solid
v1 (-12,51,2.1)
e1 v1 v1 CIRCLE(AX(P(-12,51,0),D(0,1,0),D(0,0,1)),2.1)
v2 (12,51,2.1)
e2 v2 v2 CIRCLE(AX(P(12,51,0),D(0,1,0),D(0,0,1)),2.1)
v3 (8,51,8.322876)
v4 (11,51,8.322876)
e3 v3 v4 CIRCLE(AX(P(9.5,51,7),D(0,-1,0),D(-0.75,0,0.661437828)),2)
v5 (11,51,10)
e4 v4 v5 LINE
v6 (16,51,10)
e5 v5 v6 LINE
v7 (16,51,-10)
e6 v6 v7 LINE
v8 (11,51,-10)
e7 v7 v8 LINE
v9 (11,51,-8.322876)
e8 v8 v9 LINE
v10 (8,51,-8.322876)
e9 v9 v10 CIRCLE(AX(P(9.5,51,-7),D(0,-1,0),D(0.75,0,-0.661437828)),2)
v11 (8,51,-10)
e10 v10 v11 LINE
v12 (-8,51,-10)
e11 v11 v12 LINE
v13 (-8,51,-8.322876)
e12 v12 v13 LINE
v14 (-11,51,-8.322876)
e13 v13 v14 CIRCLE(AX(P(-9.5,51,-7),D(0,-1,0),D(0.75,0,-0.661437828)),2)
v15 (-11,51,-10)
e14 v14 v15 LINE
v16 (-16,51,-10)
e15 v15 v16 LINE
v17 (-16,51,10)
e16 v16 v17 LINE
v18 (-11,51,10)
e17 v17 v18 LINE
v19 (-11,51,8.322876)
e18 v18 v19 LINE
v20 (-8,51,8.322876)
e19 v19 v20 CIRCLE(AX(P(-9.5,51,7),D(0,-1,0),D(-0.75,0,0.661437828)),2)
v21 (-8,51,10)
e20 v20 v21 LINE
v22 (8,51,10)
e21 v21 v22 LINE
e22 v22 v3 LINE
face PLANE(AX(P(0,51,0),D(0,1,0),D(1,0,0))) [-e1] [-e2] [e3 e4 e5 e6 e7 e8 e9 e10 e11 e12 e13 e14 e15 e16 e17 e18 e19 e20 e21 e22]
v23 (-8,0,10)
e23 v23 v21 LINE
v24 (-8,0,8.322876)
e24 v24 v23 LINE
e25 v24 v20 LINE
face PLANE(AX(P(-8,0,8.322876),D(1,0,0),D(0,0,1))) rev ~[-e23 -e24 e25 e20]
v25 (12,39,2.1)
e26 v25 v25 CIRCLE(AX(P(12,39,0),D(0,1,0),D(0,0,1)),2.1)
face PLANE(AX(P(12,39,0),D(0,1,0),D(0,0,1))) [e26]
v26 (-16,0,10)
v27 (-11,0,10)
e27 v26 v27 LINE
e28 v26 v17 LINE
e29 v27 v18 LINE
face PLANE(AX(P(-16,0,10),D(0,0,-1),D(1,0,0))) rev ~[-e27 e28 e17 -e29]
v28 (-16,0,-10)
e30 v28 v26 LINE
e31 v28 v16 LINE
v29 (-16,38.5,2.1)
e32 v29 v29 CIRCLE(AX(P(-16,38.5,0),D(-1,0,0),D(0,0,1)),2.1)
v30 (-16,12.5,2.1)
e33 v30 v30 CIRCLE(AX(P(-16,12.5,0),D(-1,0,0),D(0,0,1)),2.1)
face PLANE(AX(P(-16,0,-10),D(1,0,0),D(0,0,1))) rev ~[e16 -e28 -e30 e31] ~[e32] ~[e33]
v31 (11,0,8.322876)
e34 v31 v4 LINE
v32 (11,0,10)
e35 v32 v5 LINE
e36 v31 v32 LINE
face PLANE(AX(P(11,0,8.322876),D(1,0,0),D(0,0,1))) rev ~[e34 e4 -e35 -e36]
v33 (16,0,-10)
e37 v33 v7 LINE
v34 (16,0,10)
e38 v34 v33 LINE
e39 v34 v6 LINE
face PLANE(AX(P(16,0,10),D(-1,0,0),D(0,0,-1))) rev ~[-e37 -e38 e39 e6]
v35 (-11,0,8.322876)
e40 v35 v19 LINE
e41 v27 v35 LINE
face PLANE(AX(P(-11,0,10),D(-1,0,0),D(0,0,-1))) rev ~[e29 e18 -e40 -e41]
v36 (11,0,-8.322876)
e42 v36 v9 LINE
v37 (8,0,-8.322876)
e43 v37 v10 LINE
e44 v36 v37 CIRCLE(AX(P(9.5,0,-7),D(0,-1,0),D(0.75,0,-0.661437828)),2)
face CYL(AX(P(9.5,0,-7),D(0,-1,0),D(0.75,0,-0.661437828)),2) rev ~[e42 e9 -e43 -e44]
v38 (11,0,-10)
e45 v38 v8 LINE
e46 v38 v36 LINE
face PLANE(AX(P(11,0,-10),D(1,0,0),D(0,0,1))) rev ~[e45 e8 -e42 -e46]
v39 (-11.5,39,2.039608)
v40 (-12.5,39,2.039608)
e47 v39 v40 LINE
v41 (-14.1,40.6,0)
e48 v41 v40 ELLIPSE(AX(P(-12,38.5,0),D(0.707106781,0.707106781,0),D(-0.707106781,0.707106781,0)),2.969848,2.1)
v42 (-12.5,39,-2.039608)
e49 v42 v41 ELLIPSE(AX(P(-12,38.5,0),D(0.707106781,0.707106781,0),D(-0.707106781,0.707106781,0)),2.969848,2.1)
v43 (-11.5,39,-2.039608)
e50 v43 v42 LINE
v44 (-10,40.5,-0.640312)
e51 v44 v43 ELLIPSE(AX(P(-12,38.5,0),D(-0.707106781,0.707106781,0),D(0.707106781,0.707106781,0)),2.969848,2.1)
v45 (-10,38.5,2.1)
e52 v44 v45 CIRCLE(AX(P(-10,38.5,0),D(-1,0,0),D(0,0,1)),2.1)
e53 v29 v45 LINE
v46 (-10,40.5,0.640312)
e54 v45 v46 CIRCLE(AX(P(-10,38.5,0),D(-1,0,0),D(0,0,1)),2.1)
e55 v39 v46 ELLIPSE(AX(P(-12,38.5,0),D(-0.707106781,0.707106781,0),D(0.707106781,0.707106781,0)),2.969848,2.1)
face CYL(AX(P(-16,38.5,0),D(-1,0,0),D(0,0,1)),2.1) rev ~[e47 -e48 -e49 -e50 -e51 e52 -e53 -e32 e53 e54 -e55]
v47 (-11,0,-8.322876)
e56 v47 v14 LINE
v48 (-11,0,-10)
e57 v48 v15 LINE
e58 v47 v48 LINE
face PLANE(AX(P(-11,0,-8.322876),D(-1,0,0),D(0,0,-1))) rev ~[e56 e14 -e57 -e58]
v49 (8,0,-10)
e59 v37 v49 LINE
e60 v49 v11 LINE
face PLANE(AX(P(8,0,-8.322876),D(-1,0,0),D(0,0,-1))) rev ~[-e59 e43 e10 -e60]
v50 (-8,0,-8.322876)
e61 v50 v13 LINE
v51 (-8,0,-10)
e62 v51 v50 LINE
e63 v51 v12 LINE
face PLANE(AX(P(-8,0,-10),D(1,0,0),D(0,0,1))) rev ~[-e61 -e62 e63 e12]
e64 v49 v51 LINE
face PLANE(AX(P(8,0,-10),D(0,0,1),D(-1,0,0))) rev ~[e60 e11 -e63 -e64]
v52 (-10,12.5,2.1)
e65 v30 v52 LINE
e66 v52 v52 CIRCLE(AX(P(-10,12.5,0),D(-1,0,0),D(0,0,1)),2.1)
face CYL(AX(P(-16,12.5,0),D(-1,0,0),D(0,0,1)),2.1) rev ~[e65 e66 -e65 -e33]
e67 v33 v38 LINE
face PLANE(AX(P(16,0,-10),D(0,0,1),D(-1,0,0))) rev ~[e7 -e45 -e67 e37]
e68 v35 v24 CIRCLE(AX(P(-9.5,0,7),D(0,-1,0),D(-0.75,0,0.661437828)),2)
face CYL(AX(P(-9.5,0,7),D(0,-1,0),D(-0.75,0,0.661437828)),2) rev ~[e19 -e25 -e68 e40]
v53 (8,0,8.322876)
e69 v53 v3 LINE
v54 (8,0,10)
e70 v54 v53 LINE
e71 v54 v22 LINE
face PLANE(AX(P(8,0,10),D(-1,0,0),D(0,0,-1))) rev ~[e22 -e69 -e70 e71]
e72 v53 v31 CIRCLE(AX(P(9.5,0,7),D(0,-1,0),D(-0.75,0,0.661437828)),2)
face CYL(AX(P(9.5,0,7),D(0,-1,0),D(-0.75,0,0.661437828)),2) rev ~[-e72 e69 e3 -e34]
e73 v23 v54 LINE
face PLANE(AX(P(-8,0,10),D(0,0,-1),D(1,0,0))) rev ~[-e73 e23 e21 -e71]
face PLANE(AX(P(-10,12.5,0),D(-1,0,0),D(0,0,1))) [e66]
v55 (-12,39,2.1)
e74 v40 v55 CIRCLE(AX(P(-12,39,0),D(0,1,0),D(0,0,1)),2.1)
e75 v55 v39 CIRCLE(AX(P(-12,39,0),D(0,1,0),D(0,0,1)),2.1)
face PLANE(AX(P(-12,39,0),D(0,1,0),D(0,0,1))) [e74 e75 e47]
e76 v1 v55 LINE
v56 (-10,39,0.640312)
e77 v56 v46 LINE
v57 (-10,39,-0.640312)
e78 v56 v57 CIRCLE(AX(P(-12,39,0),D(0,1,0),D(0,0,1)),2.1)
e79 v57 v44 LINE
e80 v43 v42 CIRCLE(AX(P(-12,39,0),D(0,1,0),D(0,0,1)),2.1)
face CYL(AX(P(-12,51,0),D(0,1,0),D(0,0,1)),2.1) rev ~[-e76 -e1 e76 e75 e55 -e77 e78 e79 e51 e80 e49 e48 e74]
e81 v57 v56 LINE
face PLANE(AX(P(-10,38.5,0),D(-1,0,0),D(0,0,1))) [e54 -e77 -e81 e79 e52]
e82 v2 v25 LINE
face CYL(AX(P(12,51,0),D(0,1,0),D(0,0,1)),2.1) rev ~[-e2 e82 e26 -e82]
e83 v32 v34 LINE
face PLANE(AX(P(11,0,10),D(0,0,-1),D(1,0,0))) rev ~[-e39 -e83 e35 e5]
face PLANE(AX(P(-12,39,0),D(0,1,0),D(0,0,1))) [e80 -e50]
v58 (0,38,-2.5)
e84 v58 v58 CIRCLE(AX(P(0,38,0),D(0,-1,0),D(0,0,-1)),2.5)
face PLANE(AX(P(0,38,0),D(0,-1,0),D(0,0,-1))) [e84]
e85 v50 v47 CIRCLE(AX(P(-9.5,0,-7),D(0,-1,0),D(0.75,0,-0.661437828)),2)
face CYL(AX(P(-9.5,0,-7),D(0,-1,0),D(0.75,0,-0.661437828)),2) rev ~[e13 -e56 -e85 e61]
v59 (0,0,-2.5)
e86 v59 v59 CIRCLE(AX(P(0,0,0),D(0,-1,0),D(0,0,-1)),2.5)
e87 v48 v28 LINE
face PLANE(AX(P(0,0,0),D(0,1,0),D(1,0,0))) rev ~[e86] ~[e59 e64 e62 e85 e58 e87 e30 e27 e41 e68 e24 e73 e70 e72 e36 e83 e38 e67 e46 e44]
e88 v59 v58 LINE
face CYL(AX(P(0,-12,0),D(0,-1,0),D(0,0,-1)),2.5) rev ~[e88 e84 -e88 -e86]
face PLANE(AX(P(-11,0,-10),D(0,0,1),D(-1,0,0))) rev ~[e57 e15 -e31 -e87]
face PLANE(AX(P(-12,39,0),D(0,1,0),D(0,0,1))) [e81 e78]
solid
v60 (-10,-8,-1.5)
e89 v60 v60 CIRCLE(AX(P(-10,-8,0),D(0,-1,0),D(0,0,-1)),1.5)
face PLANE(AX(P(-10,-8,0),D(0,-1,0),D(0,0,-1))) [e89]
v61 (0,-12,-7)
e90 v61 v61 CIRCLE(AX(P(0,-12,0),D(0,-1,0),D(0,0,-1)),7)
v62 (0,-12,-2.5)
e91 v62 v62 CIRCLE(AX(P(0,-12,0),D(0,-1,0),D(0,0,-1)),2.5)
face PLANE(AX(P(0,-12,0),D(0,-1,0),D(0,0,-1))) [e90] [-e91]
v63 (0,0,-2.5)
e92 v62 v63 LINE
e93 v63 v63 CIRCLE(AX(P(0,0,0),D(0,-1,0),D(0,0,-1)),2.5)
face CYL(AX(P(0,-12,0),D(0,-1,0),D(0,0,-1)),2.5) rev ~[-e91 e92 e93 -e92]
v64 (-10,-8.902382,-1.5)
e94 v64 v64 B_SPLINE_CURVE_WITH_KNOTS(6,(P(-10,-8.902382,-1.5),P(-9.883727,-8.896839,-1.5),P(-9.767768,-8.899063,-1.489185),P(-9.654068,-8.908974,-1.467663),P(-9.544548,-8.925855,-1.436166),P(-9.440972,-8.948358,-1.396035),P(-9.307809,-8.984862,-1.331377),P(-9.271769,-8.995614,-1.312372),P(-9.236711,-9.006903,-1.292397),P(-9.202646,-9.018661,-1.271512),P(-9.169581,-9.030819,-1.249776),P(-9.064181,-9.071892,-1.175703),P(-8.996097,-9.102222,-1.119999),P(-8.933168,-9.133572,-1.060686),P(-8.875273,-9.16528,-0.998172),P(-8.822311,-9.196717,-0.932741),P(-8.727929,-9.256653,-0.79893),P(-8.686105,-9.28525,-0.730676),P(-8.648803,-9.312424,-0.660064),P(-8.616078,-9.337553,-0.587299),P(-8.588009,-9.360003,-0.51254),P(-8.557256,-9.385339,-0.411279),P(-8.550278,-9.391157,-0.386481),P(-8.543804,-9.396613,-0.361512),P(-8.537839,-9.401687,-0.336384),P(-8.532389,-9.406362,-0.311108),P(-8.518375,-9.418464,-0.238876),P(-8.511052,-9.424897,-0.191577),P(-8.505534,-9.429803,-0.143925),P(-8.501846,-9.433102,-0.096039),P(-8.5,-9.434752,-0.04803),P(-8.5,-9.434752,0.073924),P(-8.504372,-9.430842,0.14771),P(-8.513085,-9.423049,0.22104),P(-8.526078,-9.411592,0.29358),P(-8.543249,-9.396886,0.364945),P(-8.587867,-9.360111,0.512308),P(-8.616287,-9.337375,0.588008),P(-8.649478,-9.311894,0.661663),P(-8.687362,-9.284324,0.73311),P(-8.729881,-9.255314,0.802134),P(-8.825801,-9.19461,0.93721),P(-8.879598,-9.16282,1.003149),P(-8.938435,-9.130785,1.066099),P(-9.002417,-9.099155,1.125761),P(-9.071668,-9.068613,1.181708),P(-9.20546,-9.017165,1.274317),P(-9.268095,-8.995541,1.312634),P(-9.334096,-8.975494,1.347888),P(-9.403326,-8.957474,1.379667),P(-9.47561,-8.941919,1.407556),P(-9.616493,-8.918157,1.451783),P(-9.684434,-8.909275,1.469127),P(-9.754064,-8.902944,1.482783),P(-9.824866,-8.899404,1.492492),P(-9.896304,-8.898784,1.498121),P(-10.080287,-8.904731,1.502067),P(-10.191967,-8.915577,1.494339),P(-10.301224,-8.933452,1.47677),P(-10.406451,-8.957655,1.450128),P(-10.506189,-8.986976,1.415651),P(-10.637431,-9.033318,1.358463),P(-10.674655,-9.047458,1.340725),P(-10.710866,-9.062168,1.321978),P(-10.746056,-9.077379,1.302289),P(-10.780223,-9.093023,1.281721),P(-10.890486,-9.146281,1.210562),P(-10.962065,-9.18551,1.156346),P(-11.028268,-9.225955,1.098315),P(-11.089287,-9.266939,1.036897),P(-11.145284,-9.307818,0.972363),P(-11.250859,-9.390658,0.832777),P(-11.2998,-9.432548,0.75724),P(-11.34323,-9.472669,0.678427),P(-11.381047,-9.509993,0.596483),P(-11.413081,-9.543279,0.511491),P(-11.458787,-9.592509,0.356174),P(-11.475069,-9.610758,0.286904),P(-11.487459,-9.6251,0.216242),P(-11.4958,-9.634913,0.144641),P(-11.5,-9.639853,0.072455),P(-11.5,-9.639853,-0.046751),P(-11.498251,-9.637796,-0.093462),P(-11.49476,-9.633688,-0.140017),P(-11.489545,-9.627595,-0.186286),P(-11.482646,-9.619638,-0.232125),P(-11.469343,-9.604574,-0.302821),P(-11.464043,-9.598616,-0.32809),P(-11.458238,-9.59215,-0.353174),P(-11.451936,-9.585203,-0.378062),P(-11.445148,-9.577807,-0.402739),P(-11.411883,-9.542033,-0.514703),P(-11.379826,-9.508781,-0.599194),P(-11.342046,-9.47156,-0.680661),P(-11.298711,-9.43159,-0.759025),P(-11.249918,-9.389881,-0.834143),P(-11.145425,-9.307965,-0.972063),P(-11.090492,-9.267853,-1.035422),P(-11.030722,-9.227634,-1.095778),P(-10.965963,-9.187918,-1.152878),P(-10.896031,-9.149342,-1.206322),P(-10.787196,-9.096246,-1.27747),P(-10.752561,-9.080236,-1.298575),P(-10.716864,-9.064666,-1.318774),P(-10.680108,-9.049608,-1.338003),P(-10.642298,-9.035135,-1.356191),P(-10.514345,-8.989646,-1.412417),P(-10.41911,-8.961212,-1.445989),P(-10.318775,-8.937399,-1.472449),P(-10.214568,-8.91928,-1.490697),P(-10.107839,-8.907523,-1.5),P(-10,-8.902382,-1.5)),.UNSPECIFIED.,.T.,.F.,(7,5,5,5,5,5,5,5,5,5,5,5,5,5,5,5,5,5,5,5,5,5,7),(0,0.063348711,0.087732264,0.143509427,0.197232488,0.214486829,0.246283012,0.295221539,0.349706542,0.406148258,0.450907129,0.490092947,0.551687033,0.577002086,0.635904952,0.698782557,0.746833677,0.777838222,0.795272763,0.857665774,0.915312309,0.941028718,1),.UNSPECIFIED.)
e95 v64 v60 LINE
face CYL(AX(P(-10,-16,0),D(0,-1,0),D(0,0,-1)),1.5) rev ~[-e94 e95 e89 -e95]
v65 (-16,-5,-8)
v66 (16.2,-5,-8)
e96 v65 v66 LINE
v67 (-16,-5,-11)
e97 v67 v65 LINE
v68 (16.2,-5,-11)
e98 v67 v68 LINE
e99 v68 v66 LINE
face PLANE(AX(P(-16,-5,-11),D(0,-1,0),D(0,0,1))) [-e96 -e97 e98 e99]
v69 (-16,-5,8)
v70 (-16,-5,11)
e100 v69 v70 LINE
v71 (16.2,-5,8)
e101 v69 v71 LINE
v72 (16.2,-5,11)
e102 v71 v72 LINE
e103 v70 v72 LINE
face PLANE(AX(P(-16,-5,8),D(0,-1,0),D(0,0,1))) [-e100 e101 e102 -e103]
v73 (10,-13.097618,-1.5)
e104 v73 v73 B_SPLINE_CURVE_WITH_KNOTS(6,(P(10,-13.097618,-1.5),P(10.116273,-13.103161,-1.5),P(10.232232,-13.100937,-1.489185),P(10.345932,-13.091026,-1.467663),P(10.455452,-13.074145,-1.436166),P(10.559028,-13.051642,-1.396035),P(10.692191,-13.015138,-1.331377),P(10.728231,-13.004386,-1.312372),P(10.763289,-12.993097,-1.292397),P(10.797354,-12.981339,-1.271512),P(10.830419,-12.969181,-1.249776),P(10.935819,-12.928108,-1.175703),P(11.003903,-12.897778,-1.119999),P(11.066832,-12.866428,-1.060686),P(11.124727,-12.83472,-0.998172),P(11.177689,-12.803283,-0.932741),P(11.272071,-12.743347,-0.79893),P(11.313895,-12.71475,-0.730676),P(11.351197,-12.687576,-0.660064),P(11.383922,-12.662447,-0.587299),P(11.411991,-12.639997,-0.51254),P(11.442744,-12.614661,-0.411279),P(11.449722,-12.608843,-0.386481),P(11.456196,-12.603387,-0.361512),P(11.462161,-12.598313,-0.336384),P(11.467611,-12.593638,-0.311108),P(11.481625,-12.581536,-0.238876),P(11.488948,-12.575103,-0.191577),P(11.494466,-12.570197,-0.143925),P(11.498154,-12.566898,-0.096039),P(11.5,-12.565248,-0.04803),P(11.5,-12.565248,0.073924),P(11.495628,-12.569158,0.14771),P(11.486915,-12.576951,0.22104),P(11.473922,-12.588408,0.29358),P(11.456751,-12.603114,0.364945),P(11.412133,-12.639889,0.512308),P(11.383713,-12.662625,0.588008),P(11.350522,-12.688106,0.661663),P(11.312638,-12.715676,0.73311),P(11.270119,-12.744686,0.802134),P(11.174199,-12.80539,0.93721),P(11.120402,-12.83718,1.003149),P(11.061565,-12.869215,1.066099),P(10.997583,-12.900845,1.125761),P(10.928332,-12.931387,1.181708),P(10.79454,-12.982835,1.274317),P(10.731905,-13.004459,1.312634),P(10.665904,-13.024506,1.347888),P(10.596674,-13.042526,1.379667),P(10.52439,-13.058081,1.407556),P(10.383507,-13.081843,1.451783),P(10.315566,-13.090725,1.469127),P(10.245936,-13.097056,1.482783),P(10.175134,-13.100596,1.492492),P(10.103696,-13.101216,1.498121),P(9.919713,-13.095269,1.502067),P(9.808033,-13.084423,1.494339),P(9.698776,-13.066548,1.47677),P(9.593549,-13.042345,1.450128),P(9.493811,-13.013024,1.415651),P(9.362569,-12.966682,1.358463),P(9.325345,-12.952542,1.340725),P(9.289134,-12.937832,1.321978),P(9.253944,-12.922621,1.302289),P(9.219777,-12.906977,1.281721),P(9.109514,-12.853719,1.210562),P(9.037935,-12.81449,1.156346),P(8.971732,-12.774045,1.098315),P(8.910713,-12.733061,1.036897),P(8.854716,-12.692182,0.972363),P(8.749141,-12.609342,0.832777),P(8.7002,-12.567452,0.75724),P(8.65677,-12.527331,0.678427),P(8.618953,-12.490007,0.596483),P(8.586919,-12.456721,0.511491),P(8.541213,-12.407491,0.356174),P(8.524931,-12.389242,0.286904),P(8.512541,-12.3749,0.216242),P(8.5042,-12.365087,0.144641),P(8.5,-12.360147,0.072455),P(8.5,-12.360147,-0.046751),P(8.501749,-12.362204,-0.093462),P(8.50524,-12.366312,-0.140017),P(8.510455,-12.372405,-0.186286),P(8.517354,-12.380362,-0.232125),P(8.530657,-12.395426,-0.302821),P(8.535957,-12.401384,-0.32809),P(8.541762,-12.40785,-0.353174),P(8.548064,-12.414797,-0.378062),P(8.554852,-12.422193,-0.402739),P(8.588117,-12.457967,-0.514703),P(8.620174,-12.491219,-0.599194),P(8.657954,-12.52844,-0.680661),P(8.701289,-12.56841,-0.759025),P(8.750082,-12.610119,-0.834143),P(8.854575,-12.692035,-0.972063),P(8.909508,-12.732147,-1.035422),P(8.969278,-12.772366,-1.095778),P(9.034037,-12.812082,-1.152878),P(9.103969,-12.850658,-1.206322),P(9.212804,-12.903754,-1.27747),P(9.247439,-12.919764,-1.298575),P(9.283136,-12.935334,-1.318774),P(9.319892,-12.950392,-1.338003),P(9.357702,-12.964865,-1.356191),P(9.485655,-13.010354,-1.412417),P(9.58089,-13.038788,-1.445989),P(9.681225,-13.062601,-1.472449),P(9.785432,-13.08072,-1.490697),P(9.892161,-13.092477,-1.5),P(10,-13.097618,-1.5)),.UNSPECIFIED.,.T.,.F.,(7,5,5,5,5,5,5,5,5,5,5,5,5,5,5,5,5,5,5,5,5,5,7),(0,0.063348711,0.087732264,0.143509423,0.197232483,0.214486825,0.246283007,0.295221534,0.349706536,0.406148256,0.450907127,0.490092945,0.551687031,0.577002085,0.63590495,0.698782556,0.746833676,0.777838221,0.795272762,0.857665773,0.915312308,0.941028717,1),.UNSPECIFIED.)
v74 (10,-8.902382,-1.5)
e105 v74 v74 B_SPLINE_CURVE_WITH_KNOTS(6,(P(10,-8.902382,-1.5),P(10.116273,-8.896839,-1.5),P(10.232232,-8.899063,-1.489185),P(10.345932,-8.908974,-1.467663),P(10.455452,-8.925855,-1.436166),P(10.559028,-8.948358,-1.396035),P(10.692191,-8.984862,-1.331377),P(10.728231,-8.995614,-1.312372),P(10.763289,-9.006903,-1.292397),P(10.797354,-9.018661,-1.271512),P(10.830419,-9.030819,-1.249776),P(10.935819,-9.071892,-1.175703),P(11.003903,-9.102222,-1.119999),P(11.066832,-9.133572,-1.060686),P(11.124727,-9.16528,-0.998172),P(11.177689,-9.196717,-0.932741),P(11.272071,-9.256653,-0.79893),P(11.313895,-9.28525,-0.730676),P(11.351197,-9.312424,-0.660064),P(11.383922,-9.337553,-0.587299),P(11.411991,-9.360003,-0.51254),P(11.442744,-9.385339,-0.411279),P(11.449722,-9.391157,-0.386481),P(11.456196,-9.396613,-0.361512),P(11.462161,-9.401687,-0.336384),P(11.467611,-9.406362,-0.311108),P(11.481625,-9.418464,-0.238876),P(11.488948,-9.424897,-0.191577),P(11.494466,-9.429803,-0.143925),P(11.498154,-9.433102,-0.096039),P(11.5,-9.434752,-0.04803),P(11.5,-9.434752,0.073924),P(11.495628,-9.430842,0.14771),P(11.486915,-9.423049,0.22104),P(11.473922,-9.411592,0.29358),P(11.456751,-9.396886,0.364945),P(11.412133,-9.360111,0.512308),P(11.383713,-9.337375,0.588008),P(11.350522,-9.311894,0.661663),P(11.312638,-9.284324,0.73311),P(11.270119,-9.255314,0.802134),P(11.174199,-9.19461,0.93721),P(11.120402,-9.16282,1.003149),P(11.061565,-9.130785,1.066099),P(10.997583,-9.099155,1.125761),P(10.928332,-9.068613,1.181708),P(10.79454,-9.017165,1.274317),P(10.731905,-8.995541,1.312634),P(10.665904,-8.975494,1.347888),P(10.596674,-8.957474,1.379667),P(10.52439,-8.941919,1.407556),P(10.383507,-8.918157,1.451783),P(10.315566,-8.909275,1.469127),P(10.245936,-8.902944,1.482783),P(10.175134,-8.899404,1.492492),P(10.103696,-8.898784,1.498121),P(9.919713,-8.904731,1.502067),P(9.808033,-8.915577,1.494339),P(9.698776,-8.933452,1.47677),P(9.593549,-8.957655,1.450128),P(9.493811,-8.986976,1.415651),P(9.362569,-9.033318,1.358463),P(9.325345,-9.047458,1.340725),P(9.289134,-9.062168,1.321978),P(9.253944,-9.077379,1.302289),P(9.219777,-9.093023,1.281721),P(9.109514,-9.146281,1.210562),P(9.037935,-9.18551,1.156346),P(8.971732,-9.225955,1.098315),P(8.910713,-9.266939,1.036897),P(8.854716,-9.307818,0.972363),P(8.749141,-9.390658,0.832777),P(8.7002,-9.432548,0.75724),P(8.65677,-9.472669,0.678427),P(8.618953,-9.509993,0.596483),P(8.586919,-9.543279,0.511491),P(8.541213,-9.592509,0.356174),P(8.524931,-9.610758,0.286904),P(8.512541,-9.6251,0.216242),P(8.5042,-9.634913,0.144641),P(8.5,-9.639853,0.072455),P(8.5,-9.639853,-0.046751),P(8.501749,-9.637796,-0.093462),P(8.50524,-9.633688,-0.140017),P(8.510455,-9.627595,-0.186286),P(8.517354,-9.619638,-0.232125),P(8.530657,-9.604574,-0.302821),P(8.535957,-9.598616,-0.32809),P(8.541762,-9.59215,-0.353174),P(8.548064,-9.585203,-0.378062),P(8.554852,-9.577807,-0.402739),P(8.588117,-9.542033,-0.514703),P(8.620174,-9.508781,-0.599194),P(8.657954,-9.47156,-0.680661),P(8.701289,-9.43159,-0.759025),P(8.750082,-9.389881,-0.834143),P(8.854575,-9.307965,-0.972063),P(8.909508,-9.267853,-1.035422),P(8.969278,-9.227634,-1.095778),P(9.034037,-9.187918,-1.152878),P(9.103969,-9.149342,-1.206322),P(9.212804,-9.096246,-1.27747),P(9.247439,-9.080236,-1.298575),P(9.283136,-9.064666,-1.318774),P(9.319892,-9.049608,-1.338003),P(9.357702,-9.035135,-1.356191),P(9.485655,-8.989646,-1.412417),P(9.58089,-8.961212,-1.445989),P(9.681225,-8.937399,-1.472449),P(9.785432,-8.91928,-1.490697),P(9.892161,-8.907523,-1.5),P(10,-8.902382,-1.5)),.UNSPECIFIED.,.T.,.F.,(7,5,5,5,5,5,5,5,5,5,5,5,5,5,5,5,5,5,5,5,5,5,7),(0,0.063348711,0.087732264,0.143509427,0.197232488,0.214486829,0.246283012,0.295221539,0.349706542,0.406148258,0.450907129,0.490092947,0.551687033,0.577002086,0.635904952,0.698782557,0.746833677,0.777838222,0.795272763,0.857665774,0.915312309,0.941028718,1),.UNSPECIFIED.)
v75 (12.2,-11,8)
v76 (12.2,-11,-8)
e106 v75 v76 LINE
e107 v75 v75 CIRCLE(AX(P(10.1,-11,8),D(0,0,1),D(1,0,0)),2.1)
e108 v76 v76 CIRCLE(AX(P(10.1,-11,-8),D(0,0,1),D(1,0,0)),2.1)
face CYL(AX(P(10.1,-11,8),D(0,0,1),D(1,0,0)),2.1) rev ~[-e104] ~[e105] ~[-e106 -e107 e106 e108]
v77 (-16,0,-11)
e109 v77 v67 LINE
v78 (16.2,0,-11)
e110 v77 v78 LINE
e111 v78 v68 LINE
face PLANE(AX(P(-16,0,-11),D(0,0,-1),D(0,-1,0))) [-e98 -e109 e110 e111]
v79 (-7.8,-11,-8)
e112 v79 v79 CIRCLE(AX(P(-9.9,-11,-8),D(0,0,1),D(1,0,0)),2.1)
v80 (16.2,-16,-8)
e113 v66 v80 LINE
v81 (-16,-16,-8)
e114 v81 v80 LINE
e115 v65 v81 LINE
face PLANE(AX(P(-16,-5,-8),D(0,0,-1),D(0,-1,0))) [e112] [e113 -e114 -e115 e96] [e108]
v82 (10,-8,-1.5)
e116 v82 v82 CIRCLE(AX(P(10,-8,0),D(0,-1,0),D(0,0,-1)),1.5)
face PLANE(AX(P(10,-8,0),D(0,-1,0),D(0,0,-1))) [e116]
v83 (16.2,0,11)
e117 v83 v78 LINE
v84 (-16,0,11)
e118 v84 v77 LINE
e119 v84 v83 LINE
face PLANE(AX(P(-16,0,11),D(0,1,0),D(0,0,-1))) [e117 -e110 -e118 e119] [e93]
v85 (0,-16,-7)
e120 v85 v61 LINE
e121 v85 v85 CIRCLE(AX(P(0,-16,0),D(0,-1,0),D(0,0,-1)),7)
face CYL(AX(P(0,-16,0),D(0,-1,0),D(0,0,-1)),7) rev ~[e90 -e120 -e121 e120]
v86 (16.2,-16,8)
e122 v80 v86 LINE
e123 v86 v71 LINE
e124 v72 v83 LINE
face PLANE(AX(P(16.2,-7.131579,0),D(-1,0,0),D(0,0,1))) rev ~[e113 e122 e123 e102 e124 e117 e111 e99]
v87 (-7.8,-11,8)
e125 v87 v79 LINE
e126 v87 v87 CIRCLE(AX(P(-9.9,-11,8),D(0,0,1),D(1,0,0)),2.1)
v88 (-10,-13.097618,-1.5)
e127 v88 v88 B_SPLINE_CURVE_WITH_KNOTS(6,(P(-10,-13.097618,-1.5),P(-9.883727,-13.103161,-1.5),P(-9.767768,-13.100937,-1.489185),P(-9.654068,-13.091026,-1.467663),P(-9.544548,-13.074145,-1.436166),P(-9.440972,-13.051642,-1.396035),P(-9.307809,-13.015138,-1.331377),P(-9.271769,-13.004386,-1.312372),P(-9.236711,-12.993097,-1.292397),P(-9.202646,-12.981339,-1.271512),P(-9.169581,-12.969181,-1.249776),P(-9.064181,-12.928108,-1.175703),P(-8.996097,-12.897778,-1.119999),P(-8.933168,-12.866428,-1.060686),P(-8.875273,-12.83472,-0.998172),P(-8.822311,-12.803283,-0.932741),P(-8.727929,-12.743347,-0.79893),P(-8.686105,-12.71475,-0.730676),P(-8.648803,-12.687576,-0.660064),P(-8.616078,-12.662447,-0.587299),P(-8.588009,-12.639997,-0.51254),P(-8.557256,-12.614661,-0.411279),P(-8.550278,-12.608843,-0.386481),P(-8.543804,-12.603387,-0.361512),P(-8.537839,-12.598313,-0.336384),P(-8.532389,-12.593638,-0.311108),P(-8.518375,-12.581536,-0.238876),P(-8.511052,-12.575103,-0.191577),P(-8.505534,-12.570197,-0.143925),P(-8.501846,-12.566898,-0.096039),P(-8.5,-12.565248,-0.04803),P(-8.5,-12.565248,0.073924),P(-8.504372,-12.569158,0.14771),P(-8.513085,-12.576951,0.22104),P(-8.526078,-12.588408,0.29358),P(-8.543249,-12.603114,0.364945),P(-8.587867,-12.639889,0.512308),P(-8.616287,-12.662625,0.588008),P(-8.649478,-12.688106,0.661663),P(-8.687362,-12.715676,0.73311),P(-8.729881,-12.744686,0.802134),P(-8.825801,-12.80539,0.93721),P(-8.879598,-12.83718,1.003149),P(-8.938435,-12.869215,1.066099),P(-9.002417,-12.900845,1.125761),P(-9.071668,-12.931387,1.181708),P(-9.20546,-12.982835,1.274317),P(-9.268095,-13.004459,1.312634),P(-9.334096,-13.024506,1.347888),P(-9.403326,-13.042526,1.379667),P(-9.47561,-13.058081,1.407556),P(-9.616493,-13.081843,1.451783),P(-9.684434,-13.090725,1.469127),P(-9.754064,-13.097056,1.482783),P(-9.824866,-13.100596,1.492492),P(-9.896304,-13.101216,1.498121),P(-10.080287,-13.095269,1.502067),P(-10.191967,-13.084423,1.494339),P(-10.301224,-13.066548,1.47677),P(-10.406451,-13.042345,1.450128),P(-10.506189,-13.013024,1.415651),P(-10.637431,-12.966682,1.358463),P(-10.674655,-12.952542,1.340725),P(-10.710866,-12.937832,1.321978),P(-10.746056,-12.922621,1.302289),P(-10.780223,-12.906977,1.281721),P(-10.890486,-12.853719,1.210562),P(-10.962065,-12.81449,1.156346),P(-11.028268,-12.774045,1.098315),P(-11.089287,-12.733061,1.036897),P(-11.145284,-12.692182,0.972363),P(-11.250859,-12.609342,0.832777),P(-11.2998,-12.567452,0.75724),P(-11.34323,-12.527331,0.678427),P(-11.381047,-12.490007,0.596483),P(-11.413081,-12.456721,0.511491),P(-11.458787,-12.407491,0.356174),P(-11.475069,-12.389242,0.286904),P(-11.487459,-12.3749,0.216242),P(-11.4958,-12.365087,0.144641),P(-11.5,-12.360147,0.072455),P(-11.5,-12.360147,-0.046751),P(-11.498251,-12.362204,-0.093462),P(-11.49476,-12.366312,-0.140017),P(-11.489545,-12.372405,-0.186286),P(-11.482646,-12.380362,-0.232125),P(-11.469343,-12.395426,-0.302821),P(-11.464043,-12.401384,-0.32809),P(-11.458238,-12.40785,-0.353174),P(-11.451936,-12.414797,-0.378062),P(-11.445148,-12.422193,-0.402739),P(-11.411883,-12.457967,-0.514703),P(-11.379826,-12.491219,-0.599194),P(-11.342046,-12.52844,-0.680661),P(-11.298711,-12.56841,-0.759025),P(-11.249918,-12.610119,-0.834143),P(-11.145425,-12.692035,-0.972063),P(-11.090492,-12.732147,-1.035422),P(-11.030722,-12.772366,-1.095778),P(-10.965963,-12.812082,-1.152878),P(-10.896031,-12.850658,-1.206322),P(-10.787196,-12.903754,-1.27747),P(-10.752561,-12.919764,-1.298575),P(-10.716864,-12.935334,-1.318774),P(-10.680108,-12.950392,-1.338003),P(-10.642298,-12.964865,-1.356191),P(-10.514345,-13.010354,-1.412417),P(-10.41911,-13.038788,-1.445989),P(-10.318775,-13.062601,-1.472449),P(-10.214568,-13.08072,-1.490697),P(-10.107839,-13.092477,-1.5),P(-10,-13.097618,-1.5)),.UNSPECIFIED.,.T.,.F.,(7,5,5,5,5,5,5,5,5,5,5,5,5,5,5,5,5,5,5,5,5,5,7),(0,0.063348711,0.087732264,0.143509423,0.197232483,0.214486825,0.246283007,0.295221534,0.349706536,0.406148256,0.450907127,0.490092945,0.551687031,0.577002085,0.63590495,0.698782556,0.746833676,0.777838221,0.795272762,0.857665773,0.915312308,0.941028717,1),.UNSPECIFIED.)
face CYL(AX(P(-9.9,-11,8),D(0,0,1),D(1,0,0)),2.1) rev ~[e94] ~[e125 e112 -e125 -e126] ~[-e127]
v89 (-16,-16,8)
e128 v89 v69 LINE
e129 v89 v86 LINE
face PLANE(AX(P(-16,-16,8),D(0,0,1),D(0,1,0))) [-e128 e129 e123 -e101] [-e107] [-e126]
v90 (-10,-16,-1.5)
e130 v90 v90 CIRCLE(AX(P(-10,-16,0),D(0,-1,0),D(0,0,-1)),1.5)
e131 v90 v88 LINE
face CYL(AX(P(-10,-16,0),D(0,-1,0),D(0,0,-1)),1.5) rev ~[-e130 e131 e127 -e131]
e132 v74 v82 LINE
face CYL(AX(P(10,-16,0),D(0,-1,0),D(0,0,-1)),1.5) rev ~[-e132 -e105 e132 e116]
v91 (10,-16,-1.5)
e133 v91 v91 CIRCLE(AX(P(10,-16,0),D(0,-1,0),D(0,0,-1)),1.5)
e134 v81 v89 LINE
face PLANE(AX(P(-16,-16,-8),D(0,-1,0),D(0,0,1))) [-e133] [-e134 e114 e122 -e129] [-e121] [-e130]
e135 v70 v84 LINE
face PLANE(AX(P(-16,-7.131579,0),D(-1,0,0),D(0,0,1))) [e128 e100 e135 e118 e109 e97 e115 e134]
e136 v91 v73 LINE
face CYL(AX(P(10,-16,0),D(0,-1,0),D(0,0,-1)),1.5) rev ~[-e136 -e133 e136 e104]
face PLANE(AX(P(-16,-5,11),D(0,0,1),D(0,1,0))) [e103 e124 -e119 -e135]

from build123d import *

# Parameters (mm, degrees)
EXTRUDE_1_DEPTH     = 51
EXTRUDE_2_DEPTH     = 32.2
SKETCH_5_R          = 7
CUT_EXTRUDE_3_DEPTH = 4
SKETCH_7_R          = 1.5
CUT_EXTRUDE_4_DEPTH = 8
SKETCH_8_R          = 2.5
CUT_EXTRUDE_5_DEPTH = 50
SKETCH_9_R          = 2.1
CUT_EXTRUDE_6_DEPTH = 57.784152719
SKETCH_10_R         = 2.1
CUT_EXTRUDE_7_DEPTH = 12
SKETCH_11_R         = 2.1
CUT_EXTRUDE_8_DEPTH = 6


with BuildPart() as part:
    # 草图1 → 拉伸1 (new body)
    with BuildSketch(Plane(origin=(0, 0, 0), x_dir=(1, 0, 0), z_dir=(0, 1, 0))):
        with BuildLine():
            Line((-16, -10), (-11, -10))
            Line((-11, -10), (-11, -8.322875656))
            ThreePointArc((-11, -8.322875656), (-9.5, -5), (-8, -8.322875656))
            Line((-8, -8.322875656), (-8, -10))
            Line((-8, -10), (8, -10))
            Line((8, -10), (8, -8.322875656))
            ThreePointArc((8, -8.322875656), (9.5, -5), (11, -8.322875656))
            Line((11, -8.322875656), (11, -10))
            Line((11, -10), (16, -10))
            Line((16, -10), (16, 10))
            Line((16, 10), (11, 10))
            Line((11, 10), (11, 8.322875656))
            ThreePointArc((11, 8.322875656), (9.5, 5), (8, 8.322875656))
            Line((8, 8.322875656), (8, 10))
            Line((8, 10), (-8, 10))
            Line((-8, 10), (-8, 8.322875656))
            ThreePointArc((-8, 8.322875656), (-9.5, 5), (-11, 8.322875656))
            Line((-11, 8.322875656), (-11, 10))
            Line((-11, 10), (-16, 10))
            Line((-16, 10), (-16, -10))
        make_face()
    extrude(amount=EXTRUDE_1_DEPTH)


with BuildPart() as body_2:
    # 草图4 → 拉伸2 (new body)
    with BuildSketch(Plane.ZY.offset(16)):
        Polygon((-11, 0), (-11, -5), (-8, -5), (-8, -16), (8, -16), (8, -5), (11, -5), (11, 0), align=None)
    extrude(amount=-EXTRUDE_2_DEPTH)

    # 草图5 → 拉伸3 (cut)
    with BuildSketch(Plane.XZ.offset(16)):
        with Locations(Location((0, 0, 0), (0, 0, 270))):
            Circle(SKETCH_5_R)
    extrude(amount=-CUT_EXTRUDE_3_DEPTH, mode=Mode.SUBTRACT)

    # 草图7 → 拉伸4 (cut)
    with BuildSketch(Plane.XZ.offset(16)):
        with Locations(Location((-10, 0, 0), (0, 0, 270))):
            Circle(SKETCH_7_R)
        with Locations(Location((10, 0, 0), (0, 0, 270))):
            Circle(SKETCH_7_R)
    extrude(amount=-CUT_EXTRUDE_4_DEPTH, mode=Mode.SUBTRACT)


with BuildPart() as cut_extrude_5_tool:
    # 草图8 → 拉伸5 (new body)
    with BuildSketch(Plane.XZ.offset(12)):
        with Locations(Location((0, 0, 0), (0, 0, 270))):
            Circle(SKETCH_8_R)
    extrude(amount=-CUT_EXTRUDE_5_DEPTH)


with BuildPart() as part_1:
    add(part.part)

    # 拉伸5: cut by cut_extrude_5_tool
    add(cut_extrude_5_tool.part, mode=Mode.SUBTRACT)

    # 草图10 → 拉伸7 (cut)
    with BuildSketch(Plane(origin=(0, 51, 0), x_dir=(1, 0, 0), z_dir=(0, 1, 0))):
        with Locations(Location((12, 0, 0), (0, 0, 270))):
            Circle(SKETCH_10_R)
        with Locations(Location((-12, 0, 0), (0, 0, 270))):
            Circle(SKETCH_10_R)
    extrude(amount=-CUT_EXTRUDE_7_DEPTH, mode=Mode.SUBTRACT)

    # 草图11 → 拉伸8 (cut)
    with BuildSketch(Plane.ZY.offset(16)):
        with Locations((0, 38.5)):
            Circle(SKETCH_11_R)
        with Locations((0, 12.5)):
            Circle(SKETCH_11_R)
    extrude(amount=-CUT_EXTRUDE_8_DEPTH, mode=Mode.SUBTRACT)


with BuildPart() as body_2_1:
    add(body_2.part)

    # 拉伸5: cut by cut_extrude_5_tool
    add(cut_extrude_5_tool.part, mode=Mode.SUBTRACT)

    # 草图9 → 拉伸6 (cut, through all)
    with BuildSketch(Plane.XY.offset(8)):
        with Locations((10.1, -11)):
            Circle(SKETCH_9_R)
        with Locations((-9.9, -11)):
            Circle(SKETCH_9_R)
    extrude(amount=-CUT_EXTRUDE_6_DEPTH, mode=Mode.SUBTRACT)


solid = Compound([part_1.part, body_2_1.part])
